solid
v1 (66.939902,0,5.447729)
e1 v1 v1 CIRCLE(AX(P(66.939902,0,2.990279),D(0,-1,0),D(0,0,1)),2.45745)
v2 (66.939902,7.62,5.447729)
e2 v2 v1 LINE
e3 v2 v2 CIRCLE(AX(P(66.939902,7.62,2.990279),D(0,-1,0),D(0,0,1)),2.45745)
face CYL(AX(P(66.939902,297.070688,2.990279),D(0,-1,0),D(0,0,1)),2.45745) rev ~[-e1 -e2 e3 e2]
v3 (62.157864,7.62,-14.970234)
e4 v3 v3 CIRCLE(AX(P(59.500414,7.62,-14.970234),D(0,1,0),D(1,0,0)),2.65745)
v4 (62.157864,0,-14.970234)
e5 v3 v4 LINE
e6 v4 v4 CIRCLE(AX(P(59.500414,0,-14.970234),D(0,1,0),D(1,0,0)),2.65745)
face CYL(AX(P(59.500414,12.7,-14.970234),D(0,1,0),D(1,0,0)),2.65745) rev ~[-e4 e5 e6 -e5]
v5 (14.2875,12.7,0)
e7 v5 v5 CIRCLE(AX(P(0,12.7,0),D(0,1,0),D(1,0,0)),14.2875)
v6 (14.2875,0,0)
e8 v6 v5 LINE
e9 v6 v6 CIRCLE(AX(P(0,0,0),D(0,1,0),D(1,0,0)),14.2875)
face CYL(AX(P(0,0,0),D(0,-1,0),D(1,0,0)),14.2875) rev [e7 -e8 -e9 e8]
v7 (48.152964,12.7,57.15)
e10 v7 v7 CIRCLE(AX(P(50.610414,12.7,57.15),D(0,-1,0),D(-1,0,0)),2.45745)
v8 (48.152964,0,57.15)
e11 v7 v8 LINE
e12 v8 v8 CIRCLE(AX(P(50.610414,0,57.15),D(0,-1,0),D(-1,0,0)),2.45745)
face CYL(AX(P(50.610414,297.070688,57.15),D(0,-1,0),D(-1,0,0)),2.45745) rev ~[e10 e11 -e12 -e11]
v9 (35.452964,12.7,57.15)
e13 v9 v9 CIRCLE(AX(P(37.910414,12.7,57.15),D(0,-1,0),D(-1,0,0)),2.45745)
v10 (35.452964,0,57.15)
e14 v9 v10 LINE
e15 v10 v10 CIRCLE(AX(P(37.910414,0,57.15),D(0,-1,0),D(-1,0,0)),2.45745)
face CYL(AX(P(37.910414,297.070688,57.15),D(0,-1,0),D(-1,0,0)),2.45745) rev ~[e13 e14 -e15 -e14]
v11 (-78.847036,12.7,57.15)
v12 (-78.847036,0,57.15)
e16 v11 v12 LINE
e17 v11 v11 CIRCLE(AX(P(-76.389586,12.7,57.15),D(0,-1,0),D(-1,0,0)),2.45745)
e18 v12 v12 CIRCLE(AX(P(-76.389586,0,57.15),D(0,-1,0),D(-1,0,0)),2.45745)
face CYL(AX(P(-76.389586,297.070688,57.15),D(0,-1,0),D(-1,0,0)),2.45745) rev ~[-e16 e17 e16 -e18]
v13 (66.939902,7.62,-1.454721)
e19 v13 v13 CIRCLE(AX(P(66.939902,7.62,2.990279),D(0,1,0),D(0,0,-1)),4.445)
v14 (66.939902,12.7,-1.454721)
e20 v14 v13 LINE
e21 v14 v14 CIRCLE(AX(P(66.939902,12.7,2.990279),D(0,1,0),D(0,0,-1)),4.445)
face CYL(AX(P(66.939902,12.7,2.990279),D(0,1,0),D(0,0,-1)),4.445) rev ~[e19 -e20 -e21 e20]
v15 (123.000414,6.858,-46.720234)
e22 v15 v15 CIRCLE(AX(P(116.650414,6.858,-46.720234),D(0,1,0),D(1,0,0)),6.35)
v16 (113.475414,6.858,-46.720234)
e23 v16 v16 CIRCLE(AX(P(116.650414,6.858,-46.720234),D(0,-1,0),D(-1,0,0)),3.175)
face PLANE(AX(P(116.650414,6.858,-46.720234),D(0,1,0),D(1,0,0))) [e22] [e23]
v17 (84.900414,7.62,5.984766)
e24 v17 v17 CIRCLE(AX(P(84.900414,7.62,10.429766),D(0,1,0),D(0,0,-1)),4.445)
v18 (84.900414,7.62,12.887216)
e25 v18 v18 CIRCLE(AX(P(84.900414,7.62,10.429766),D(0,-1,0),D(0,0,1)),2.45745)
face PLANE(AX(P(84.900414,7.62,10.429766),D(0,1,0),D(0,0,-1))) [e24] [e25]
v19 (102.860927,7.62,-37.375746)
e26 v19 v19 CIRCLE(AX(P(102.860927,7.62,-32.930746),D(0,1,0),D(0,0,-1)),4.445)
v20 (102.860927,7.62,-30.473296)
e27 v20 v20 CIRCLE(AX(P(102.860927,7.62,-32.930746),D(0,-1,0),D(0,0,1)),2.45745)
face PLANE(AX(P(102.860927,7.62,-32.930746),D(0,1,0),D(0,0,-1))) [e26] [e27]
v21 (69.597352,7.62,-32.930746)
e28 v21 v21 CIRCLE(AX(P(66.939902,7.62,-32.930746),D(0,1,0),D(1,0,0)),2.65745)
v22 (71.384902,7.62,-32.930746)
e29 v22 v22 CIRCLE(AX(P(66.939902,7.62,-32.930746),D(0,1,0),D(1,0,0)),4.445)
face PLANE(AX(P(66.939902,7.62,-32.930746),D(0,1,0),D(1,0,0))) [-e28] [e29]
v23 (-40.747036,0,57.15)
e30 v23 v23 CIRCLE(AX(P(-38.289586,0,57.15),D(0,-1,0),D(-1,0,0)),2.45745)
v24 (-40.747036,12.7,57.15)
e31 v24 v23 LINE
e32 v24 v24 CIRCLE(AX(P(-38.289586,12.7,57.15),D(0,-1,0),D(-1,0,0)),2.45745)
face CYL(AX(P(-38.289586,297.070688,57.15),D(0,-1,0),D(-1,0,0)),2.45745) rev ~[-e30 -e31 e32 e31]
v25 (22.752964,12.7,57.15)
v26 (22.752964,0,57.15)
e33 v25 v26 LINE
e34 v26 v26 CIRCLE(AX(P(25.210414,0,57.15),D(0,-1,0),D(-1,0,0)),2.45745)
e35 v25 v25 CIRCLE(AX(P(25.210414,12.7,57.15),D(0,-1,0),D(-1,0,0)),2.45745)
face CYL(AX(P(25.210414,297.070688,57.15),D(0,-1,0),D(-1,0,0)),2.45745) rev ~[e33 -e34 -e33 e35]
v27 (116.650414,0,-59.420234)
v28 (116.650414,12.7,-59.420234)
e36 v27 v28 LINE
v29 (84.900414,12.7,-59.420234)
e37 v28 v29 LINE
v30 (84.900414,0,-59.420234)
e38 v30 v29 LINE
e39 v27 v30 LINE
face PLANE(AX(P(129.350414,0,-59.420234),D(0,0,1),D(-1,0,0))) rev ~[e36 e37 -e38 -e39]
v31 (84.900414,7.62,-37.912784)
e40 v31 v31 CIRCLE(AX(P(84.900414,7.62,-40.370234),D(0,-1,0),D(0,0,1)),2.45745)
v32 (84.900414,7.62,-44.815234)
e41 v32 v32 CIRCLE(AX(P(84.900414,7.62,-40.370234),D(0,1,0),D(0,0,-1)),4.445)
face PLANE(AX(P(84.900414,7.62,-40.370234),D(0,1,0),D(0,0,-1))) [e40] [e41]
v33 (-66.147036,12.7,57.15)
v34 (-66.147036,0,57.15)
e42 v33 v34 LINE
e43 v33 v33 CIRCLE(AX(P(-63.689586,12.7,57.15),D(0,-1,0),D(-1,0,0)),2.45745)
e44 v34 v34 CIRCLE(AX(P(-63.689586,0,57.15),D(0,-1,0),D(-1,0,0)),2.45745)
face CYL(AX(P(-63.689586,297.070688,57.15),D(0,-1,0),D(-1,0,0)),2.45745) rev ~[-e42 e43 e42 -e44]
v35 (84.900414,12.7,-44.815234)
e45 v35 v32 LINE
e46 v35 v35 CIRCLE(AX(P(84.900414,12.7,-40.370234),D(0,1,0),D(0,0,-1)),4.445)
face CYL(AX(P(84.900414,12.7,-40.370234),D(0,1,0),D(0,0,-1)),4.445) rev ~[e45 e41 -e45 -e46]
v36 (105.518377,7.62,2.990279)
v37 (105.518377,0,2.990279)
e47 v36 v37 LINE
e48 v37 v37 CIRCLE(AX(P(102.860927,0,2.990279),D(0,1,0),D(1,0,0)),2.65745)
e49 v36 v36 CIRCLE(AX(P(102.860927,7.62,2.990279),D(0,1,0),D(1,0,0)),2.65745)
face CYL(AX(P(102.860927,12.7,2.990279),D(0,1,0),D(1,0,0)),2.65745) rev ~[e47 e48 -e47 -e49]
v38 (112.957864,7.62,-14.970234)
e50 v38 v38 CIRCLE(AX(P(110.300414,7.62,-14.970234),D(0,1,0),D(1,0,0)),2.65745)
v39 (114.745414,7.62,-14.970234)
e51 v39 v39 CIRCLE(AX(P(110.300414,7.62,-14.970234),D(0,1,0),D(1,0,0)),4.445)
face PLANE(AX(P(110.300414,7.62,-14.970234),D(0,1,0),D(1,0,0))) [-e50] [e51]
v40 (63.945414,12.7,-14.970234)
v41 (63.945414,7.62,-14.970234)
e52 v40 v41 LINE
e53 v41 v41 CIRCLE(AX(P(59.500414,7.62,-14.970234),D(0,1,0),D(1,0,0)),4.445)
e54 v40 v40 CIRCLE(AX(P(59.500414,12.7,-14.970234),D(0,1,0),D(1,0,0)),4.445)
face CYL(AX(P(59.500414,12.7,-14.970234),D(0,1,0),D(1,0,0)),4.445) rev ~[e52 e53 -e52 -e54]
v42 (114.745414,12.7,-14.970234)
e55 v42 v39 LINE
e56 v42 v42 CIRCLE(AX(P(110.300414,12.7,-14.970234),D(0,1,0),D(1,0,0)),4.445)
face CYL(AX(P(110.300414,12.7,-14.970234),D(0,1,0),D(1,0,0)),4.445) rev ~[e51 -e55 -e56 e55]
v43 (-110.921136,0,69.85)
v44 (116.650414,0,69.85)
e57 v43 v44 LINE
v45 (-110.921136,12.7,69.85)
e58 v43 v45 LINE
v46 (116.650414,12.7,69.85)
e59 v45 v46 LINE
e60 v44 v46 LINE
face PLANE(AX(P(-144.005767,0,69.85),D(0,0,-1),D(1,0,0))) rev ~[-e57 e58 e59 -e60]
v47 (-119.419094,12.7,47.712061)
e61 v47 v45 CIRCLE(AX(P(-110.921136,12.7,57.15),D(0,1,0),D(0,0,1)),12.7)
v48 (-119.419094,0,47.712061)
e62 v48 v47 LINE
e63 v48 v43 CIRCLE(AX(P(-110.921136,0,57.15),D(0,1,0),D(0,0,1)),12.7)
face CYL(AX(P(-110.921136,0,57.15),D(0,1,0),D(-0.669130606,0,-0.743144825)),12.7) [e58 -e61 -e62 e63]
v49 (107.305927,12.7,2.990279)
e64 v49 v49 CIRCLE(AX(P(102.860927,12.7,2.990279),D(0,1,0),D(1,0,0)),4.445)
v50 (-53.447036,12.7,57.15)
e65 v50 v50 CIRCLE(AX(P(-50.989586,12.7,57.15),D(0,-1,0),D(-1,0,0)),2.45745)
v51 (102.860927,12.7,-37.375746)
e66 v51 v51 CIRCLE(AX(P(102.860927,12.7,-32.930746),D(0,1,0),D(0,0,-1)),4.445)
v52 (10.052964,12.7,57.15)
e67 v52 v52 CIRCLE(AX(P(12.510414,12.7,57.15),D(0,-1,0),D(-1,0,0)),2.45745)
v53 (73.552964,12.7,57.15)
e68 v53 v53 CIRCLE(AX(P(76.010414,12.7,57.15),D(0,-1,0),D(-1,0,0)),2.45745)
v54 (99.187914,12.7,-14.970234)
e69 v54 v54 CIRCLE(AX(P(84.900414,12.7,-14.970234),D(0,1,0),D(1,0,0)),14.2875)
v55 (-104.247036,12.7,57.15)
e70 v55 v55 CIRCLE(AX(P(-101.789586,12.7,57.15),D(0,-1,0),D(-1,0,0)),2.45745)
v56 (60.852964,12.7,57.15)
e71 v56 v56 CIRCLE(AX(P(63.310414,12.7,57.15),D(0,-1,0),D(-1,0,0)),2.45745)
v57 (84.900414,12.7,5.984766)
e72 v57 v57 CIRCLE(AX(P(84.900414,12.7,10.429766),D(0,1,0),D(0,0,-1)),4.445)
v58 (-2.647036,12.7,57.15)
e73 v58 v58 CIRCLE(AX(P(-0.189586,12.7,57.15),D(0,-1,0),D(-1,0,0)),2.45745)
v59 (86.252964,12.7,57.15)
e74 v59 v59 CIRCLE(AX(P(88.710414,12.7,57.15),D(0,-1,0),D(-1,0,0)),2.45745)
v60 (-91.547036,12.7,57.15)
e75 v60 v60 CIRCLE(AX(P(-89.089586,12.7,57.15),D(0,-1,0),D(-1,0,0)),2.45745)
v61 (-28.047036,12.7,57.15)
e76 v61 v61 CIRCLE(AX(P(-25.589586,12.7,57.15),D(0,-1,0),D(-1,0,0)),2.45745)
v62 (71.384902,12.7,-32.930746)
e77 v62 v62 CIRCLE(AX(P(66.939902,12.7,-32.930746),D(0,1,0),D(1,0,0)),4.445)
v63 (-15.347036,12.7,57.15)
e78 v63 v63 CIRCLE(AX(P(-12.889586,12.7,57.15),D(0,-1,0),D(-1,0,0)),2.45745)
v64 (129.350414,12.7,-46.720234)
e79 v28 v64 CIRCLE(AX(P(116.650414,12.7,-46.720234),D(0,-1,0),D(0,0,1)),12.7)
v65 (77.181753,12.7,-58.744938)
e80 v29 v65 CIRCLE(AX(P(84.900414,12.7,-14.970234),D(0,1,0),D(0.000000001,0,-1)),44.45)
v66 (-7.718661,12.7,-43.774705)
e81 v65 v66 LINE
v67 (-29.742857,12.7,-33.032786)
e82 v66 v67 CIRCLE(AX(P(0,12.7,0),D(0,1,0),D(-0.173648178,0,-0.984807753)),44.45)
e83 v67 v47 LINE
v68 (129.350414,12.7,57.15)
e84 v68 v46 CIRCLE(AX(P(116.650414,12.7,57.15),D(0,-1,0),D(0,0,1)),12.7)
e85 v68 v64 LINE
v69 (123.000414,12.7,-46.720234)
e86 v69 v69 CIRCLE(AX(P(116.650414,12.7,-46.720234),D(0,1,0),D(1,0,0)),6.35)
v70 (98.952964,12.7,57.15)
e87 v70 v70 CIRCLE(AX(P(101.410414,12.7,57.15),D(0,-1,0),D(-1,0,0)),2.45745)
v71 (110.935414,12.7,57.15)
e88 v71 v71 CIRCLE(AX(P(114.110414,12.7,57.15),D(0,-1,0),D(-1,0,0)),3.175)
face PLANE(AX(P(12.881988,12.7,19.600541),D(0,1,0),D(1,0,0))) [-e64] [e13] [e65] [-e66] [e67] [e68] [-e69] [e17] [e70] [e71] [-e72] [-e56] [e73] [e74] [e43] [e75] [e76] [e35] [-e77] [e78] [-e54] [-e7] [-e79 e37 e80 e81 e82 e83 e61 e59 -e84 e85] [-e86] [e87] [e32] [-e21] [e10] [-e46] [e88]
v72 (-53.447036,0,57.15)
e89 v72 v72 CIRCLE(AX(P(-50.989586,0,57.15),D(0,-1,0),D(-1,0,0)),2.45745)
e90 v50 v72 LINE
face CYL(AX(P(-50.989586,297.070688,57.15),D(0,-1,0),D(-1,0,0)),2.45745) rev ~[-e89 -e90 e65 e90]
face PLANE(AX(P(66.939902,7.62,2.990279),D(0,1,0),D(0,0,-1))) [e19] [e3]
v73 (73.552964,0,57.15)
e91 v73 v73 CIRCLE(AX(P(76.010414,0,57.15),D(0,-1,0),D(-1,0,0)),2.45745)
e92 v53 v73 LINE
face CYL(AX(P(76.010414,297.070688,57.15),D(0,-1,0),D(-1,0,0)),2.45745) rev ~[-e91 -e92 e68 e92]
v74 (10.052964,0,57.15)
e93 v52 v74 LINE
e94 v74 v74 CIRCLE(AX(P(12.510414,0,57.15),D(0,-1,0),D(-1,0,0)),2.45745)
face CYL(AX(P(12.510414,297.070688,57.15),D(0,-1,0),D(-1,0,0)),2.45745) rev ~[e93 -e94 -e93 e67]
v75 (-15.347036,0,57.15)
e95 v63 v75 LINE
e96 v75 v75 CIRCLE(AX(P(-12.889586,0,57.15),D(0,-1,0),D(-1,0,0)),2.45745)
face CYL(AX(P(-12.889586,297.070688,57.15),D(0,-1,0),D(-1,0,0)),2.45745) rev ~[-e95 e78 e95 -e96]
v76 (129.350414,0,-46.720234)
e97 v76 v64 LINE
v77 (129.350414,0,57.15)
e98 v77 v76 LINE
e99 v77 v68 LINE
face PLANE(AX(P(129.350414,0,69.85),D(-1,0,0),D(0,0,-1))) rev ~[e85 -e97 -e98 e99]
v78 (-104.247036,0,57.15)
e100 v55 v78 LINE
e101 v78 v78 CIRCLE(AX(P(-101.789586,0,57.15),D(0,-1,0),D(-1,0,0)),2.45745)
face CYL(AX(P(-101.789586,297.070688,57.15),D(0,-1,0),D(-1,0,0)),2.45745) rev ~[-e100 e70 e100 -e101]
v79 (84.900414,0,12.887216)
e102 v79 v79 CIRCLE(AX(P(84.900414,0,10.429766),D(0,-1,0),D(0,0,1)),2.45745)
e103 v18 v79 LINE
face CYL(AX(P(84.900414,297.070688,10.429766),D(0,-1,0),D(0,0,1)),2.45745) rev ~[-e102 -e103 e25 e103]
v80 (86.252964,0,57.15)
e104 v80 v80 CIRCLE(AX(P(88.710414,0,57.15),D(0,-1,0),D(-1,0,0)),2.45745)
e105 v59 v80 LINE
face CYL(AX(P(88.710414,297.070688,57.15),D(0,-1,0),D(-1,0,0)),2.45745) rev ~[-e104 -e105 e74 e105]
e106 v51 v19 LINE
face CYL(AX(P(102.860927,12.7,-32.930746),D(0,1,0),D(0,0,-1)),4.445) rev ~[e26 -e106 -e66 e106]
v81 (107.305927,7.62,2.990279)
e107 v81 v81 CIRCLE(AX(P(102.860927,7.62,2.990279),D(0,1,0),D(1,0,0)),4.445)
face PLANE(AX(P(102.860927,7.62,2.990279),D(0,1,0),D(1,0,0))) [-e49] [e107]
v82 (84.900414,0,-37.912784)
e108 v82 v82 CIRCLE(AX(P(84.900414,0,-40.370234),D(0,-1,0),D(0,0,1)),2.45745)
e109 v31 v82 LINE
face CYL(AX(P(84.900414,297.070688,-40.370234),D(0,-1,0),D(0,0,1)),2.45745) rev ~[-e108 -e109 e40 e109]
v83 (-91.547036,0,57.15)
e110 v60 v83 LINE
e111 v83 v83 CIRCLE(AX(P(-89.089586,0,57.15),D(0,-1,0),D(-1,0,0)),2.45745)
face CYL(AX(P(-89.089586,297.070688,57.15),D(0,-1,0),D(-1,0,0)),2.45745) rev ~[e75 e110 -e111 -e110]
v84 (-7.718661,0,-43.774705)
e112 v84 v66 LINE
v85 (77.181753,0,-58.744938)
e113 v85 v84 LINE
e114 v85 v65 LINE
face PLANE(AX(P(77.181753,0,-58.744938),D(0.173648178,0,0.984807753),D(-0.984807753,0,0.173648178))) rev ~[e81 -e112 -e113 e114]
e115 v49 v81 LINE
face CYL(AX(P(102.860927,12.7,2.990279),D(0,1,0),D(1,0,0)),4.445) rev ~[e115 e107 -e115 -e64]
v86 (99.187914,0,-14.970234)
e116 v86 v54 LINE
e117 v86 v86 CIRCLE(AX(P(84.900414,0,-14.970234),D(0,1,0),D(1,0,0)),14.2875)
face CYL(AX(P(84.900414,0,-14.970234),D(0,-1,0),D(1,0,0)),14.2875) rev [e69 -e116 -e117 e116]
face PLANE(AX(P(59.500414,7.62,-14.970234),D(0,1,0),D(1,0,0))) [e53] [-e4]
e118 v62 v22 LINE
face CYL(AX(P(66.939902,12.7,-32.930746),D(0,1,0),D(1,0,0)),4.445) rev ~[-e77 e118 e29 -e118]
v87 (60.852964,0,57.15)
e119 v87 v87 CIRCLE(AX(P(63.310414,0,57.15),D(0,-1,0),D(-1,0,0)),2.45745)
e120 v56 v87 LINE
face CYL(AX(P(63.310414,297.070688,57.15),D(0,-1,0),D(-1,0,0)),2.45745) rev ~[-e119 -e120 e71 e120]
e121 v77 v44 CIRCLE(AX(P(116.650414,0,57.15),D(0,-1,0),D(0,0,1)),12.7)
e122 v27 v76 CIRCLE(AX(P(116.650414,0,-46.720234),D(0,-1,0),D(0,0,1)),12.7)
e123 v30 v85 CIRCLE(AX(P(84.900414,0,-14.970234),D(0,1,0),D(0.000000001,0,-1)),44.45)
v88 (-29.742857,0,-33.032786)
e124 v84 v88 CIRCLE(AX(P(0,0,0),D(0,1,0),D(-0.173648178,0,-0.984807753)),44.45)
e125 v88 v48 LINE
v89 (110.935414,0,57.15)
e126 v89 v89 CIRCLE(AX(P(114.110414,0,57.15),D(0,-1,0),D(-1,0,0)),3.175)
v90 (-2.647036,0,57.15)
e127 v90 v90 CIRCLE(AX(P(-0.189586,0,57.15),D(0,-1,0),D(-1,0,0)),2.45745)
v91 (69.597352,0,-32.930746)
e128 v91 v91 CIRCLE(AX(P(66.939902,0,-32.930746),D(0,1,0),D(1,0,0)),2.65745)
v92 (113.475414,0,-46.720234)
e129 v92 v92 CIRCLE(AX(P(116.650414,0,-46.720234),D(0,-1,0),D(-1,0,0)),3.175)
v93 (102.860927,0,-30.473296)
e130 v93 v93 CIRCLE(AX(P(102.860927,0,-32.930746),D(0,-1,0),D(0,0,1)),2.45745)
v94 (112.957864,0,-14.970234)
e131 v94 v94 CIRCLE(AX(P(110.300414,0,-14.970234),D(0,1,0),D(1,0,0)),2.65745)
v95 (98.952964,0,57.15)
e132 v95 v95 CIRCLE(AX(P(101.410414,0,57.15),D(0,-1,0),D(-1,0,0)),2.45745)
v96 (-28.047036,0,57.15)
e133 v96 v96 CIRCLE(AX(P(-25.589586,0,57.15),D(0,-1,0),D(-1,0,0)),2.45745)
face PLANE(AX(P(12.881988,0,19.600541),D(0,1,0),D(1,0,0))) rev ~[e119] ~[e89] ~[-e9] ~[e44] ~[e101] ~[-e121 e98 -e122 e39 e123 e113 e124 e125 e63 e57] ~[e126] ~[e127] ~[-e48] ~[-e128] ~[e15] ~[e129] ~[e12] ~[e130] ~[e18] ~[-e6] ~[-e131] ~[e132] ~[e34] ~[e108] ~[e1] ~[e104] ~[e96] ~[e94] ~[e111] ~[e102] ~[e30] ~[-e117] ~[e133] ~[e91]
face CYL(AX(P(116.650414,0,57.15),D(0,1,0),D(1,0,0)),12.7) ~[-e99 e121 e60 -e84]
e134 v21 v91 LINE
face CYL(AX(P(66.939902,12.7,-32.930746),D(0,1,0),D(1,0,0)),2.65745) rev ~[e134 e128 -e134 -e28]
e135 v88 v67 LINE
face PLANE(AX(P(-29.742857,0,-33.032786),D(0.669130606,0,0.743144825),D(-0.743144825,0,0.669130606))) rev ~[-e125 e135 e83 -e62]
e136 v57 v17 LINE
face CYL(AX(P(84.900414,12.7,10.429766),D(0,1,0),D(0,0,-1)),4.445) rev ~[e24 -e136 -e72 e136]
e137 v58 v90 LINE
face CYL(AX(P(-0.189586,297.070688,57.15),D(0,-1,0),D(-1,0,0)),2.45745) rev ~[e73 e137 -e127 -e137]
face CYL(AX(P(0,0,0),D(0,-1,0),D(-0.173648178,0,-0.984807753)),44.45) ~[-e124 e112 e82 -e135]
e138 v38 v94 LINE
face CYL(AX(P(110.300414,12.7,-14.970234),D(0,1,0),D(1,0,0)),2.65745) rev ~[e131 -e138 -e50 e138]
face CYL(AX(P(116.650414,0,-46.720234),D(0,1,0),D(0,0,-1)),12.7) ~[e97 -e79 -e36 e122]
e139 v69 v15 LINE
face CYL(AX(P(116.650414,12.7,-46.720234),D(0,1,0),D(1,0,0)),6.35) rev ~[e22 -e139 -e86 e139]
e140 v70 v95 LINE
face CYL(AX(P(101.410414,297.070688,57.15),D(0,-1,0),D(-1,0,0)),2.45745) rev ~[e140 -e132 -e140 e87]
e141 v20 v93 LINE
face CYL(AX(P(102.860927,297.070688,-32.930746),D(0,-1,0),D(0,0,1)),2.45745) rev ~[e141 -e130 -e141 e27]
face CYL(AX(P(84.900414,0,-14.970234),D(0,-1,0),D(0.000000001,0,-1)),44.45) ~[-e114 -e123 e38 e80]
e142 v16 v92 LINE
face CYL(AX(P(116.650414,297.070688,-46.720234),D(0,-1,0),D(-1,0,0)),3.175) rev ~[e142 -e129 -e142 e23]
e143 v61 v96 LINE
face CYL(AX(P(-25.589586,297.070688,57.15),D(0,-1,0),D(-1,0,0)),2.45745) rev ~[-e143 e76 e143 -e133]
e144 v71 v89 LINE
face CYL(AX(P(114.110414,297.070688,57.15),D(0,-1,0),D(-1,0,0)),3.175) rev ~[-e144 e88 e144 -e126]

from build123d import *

# Parameters (mm, degrees)
SKETCH1_R                              = 14.2875
SKETCH1_R_2                            = 1.27
INITIAL_PLATE_DEPTH                    = 12.7
PLATE_FILLET_R                         = 12.7
F_10_0_1935_INITIAL_FRONT_BRACE_HOLE_D = 4.9149
SKETCH18_R                             = 2.65745
BOLT_CLEARANCE_DEPTH                   = 13.7
MOUNTING_PATTERN_COUNT                 = 18
MOUNTING_PATTERN_PITCH                 = 12.7
SKETCH21_R                             = 1.27
CHURRO_SUPPORT_PILOT_HOLE_DEPTH        = 13.7
F_1_4_0_25_DIAMETER_HOLE1_D            = 6.35
SKETCH25_R                             = 6.35
BOLT_HEAD_HOLE_DEPTH                   = 5.842
SKETCH12_R                             = 1.27
MAXPLANETARY_PILOT_HOLES_DEPTH         = 13.7
F_10_0_1935_MAXPLANETARY_MOUNTING_D    = 4.9149
SKETCH19_R                             = 2.65745
BOLT_HOLE_CLEARANCE_DEPTH              = 13.7
SKETCH12_3_R                           = 4.445
SKETCH12_3_R_2                         = 1.27
MAX_BOLT_HEAD_CLEARANCE_DEPTH          = 5.08
MAXPLANETARY_MOUNTING_PATTERN_COUNT    = 2
MAXPLANETARY_MOUNTING_PATTERN_ANGLE    = 90


with BuildPart() as part:
    # Sketch1 → Initial Plate (new body)
    with BuildSketch(Plane(origin=(0, 0, 0), x_dir=(1, 0, 0), z_dir=(0, 1, 0))):
        with BuildLine():
            Line((77.181752763, 58.744938329), (-7.718661497, 43.774704621))
            ThreePointArc((-7.718661497, 43.774704621), (-19.485598541, 39.951394838), (-29.742857216, 33.032785904))
            Line((-29.742857216, 33.032785904), (-144.005766802, -69.85))
            Line((-144.005766802, -69.85), (129.35041426, -69.85))
            Line((129.35041426, -69.85), (129.35041426, 59.420233707))
            Line((129.35041426, 59.420233707), (84.900414295, 59.420233707))
            ThreePointArc((84.900414295, 59.420233707), (81.026341512, 59.251088039), (77.181752763, 58.744938329))
        make_face()
        Circle(SKETCH1_R, mode=Mode.SUBTRACT)
        with Locations((84.90041426, 14.970233707)):
            Circle(SKETCH1_R, mode=Mode.SUBTRACT)
        with Locations((114.11041426, -57.15)):
            Circle(SKETCH1_R_2, mode=Mode.SUBTRACT)
    extrude(amount=INITIAL_PLATE_DEPTH)

    # Plate Fillet
    plate_fillet_edges = [part.edges().sort_by_distance(p)[0] for p in [
        (129.35041426, 6.35, 69.85),
        (-144.005766802, 6.35, 69.85),
        (129.35041426, 6.35, -59.420233707),
    ]]
    fillet(plate_fillet_edges, radius=PLATE_FILLET_R)

    # 10 _0.1935_ Initial Front Brace Hole (through all)
    with Locations(Plane(origin=(0, 12.7, 0), x_dir=(1, 0, 0), z_dir=(0, 1, 0))):
        with Locations((114.11041426, -57.15)):
            f_10_0_1935_initial_front_brace_hole = Hole(F_10_0_1935_INITIAL_FRONT_BRACE_HOLE_D / 2)

    # Sketch18 → Bolt Clearance (cut, through all)
    with BuildSketch(Plane(origin=(0, 12.7, 0), x_dir=(1, 0, 0), z_dir=(0, 1, 0))):
        with Locations((114.11041426, -57.15)):
            Circle(SKETCH18_R)
    extrude(amount=-BOLT_CLEARANCE_DEPTH, mode=Mode.SUBTRACT)

    # Mounting Pattern: 10 _0.1935_ Initial Front Brace Hole ×18
    with Locations(*[(-i * MOUNTING_PATTERN_PITCH, 0, 0) for i in range(1, MOUNTING_PATTERN_COUNT)]):
        add(f_10_0_1935_initial_front_brace_hole, mode=Mode.SUBTRACT)

    # Sketch21 → Churro Support Pilot Hole (cut, through all)
    with BuildSketch(Plane(origin=(0, 12.7, 0), x_dir=(1, 0, 0), z_dir=(0, 1, 0))):
        with Locations((116.65041426, 46.720233707)):
            Circle(SKETCH21_R)
    extrude(amount=-CHURRO_SUPPORT_PILOT_HOLE_DEPTH, mode=Mode.SUBTRACT)

    # 1_4 _0.25_ Diameter Hole1 (through all)
    with Locations(Plane(origin=(0, 12.7, 0), x_dir=(1, 0, 0), z_dir=(0, 1, 0))):
        with Locations((116.65041426, 46.720233707), (114.11041426, -57.15)):
            Hole(F_1_4_0_25_DIAMETER_HOLE1_D / 2)

    # Sketch25 → Bolt Head Hole (cut)
    with BuildSketch(Plane(origin=(0, 12.7, 0), x_dir=(1, 0, 0), z_dir=(0, 1, 0))):
        with Locations((116.65041426, 46.720233707)):
            Circle(SKETCH25_R)
    extrude(amount=-BOLT_HEAD_HOLE_DEPTH, mode=Mode.SUBTRACT)

    # Sketch12 → MaxPlanetary Pilot Holes (cut, through all)
    with BuildSketch(Plane(origin=(0, 12.7, 0), x_dir=(1, 0, 0), z_dir=(0, 1, 0))):
        with Locations((66.939902018, 32.93074595)):
            Circle(SKETCH12_R)
        with Locations((59.50041426, 14.970233707)):
            Circle(SKETCH12_R)
        with Locations((110.30041426, 14.970233707)):
            Circle(SKETCH12_R)
        with Locations((102.860926502, -2.990278535)):
            Circle(SKETCH12_R)
    extrude(amount=-MAXPLANETARY_PILOT_HOLES_DEPTH, mode=Mode.SUBTRACT)

    # 10 _0.1935_ MaxPlanetary Mounting (through all)
    with Locations(Plane(origin=(0, 12.7, 0), x_dir=(1, 0, 0), z_dir=(0, 1, 0))):
        with Locations((59.50041426, 14.970233707), (66.939902018, 32.93074595), (110.30041426, 14.970233707), (102.860926502, -2.990278535)):
            f_10_0_1935_maxplanetary_mounting = Hole(F_10_0_1935_MAXPLANETARY_MOUNTING_D / 2)

    # Sketch19 → Bolt Hole Clearance (cut, through all)
    with BuildSketch(Plane(origin=(0, 12.7, 0), x_dir=(1, 0, 0), z_dir=(0, 1, 0))):
        with Locations((66.939902018, 32.93074595)):
            Circle(SKETCH19_R)
        with Locations((59.50041426, 14.970233707)):
            Circle(SKETCH19_R)
        with Locations((110.30041426, 14.970233707)):
            Circle(SKETCH19_R)
        with Locations((102.860926502, -2.990278535)):
            Circle(SKETCH19_R)
    extrude(amount=-BOLT_HOLE_CLEARANCE_DEPTH, mode=Mode.SUBTRACT)

    # Sketch12_3 → Max Bolt Head Clearance (cut)
    with BuildSketch(Plane(origin=(0, 12.7, 0), x_dir=(1, 0, 0), z_dir=(0, 1, 0))):
        with Locations((66.939902018, 32.93074595)):
            Circle(SKETCH12_3_R)
        with Locations((66.939902018, 32.93074595)):
            Circle(SKETCH12_3_R_2, mode=Mode.SUBTRACT)
        with Locations((59.50041426, 14.970233707)):
            Circle(SKETCH12_3_R)
        with Locations((59.50041426, 14.970233707)):
            Circle(SKETCH12_3_R_2, mode=Mode.SUBTRACT)
        with Locations((102.860926502, -2.990278535)):
            Circle(SKETCH12_3_R)
        with Locations((102.860926502, -2.990278535)):
            Circle(SKETCH12_3_R_2, mode=Mode.SUBTRACT)
        with Locations((110.30041426, 14.970233707)):
            Circle(SKETCH12_3_R)
        with Locations((110.30041426, 14.970233707)):
            Circle(SKETCH12_3_R_2, mode=Mode.SUBTRACT)
    max_bolt_head_clearance = extrude(amount=-MAX_BOLT_HEAD_CLEARANCE_DEPTH, mode=Mode.SUBTRACT)

    # MaxPlanetary Mounting Pattern: 10 _0.1935_ MaxPlanetary Mounting, Max Bolt Head Clearance ×2 about axis
    maxplanetary_mounting_pattern_axis = Axis((84.90041426, 0, -14.970233707), (0, 1, 0))
    for i in range(1, MAXPLANETARY_MOUNTING_PATTERN_COUNT):
        add(f_10_0_1935_maxplanetary_mounting.rotate(maxplanetary_mounting_pattern_axis, i * MAXPLANETARY_MOUNTING_PATTERN_ANGLE / (MAXPLANETARY_MOUNTING_PATTERN_COUNT - 1)), mode=Mode.SUBTRACT)
        add(max_bolt_head_clearance.rotate(maxplanetary_mounting_pattern_axis, i * MAXPLANETARY_MOUNTING_PATTERN_ANGLE / (MAXPLANETARY_MOUNTING_PATTERN_COUNT - 1)), mode=Mode.SUBTRACT)


solid = part.part
